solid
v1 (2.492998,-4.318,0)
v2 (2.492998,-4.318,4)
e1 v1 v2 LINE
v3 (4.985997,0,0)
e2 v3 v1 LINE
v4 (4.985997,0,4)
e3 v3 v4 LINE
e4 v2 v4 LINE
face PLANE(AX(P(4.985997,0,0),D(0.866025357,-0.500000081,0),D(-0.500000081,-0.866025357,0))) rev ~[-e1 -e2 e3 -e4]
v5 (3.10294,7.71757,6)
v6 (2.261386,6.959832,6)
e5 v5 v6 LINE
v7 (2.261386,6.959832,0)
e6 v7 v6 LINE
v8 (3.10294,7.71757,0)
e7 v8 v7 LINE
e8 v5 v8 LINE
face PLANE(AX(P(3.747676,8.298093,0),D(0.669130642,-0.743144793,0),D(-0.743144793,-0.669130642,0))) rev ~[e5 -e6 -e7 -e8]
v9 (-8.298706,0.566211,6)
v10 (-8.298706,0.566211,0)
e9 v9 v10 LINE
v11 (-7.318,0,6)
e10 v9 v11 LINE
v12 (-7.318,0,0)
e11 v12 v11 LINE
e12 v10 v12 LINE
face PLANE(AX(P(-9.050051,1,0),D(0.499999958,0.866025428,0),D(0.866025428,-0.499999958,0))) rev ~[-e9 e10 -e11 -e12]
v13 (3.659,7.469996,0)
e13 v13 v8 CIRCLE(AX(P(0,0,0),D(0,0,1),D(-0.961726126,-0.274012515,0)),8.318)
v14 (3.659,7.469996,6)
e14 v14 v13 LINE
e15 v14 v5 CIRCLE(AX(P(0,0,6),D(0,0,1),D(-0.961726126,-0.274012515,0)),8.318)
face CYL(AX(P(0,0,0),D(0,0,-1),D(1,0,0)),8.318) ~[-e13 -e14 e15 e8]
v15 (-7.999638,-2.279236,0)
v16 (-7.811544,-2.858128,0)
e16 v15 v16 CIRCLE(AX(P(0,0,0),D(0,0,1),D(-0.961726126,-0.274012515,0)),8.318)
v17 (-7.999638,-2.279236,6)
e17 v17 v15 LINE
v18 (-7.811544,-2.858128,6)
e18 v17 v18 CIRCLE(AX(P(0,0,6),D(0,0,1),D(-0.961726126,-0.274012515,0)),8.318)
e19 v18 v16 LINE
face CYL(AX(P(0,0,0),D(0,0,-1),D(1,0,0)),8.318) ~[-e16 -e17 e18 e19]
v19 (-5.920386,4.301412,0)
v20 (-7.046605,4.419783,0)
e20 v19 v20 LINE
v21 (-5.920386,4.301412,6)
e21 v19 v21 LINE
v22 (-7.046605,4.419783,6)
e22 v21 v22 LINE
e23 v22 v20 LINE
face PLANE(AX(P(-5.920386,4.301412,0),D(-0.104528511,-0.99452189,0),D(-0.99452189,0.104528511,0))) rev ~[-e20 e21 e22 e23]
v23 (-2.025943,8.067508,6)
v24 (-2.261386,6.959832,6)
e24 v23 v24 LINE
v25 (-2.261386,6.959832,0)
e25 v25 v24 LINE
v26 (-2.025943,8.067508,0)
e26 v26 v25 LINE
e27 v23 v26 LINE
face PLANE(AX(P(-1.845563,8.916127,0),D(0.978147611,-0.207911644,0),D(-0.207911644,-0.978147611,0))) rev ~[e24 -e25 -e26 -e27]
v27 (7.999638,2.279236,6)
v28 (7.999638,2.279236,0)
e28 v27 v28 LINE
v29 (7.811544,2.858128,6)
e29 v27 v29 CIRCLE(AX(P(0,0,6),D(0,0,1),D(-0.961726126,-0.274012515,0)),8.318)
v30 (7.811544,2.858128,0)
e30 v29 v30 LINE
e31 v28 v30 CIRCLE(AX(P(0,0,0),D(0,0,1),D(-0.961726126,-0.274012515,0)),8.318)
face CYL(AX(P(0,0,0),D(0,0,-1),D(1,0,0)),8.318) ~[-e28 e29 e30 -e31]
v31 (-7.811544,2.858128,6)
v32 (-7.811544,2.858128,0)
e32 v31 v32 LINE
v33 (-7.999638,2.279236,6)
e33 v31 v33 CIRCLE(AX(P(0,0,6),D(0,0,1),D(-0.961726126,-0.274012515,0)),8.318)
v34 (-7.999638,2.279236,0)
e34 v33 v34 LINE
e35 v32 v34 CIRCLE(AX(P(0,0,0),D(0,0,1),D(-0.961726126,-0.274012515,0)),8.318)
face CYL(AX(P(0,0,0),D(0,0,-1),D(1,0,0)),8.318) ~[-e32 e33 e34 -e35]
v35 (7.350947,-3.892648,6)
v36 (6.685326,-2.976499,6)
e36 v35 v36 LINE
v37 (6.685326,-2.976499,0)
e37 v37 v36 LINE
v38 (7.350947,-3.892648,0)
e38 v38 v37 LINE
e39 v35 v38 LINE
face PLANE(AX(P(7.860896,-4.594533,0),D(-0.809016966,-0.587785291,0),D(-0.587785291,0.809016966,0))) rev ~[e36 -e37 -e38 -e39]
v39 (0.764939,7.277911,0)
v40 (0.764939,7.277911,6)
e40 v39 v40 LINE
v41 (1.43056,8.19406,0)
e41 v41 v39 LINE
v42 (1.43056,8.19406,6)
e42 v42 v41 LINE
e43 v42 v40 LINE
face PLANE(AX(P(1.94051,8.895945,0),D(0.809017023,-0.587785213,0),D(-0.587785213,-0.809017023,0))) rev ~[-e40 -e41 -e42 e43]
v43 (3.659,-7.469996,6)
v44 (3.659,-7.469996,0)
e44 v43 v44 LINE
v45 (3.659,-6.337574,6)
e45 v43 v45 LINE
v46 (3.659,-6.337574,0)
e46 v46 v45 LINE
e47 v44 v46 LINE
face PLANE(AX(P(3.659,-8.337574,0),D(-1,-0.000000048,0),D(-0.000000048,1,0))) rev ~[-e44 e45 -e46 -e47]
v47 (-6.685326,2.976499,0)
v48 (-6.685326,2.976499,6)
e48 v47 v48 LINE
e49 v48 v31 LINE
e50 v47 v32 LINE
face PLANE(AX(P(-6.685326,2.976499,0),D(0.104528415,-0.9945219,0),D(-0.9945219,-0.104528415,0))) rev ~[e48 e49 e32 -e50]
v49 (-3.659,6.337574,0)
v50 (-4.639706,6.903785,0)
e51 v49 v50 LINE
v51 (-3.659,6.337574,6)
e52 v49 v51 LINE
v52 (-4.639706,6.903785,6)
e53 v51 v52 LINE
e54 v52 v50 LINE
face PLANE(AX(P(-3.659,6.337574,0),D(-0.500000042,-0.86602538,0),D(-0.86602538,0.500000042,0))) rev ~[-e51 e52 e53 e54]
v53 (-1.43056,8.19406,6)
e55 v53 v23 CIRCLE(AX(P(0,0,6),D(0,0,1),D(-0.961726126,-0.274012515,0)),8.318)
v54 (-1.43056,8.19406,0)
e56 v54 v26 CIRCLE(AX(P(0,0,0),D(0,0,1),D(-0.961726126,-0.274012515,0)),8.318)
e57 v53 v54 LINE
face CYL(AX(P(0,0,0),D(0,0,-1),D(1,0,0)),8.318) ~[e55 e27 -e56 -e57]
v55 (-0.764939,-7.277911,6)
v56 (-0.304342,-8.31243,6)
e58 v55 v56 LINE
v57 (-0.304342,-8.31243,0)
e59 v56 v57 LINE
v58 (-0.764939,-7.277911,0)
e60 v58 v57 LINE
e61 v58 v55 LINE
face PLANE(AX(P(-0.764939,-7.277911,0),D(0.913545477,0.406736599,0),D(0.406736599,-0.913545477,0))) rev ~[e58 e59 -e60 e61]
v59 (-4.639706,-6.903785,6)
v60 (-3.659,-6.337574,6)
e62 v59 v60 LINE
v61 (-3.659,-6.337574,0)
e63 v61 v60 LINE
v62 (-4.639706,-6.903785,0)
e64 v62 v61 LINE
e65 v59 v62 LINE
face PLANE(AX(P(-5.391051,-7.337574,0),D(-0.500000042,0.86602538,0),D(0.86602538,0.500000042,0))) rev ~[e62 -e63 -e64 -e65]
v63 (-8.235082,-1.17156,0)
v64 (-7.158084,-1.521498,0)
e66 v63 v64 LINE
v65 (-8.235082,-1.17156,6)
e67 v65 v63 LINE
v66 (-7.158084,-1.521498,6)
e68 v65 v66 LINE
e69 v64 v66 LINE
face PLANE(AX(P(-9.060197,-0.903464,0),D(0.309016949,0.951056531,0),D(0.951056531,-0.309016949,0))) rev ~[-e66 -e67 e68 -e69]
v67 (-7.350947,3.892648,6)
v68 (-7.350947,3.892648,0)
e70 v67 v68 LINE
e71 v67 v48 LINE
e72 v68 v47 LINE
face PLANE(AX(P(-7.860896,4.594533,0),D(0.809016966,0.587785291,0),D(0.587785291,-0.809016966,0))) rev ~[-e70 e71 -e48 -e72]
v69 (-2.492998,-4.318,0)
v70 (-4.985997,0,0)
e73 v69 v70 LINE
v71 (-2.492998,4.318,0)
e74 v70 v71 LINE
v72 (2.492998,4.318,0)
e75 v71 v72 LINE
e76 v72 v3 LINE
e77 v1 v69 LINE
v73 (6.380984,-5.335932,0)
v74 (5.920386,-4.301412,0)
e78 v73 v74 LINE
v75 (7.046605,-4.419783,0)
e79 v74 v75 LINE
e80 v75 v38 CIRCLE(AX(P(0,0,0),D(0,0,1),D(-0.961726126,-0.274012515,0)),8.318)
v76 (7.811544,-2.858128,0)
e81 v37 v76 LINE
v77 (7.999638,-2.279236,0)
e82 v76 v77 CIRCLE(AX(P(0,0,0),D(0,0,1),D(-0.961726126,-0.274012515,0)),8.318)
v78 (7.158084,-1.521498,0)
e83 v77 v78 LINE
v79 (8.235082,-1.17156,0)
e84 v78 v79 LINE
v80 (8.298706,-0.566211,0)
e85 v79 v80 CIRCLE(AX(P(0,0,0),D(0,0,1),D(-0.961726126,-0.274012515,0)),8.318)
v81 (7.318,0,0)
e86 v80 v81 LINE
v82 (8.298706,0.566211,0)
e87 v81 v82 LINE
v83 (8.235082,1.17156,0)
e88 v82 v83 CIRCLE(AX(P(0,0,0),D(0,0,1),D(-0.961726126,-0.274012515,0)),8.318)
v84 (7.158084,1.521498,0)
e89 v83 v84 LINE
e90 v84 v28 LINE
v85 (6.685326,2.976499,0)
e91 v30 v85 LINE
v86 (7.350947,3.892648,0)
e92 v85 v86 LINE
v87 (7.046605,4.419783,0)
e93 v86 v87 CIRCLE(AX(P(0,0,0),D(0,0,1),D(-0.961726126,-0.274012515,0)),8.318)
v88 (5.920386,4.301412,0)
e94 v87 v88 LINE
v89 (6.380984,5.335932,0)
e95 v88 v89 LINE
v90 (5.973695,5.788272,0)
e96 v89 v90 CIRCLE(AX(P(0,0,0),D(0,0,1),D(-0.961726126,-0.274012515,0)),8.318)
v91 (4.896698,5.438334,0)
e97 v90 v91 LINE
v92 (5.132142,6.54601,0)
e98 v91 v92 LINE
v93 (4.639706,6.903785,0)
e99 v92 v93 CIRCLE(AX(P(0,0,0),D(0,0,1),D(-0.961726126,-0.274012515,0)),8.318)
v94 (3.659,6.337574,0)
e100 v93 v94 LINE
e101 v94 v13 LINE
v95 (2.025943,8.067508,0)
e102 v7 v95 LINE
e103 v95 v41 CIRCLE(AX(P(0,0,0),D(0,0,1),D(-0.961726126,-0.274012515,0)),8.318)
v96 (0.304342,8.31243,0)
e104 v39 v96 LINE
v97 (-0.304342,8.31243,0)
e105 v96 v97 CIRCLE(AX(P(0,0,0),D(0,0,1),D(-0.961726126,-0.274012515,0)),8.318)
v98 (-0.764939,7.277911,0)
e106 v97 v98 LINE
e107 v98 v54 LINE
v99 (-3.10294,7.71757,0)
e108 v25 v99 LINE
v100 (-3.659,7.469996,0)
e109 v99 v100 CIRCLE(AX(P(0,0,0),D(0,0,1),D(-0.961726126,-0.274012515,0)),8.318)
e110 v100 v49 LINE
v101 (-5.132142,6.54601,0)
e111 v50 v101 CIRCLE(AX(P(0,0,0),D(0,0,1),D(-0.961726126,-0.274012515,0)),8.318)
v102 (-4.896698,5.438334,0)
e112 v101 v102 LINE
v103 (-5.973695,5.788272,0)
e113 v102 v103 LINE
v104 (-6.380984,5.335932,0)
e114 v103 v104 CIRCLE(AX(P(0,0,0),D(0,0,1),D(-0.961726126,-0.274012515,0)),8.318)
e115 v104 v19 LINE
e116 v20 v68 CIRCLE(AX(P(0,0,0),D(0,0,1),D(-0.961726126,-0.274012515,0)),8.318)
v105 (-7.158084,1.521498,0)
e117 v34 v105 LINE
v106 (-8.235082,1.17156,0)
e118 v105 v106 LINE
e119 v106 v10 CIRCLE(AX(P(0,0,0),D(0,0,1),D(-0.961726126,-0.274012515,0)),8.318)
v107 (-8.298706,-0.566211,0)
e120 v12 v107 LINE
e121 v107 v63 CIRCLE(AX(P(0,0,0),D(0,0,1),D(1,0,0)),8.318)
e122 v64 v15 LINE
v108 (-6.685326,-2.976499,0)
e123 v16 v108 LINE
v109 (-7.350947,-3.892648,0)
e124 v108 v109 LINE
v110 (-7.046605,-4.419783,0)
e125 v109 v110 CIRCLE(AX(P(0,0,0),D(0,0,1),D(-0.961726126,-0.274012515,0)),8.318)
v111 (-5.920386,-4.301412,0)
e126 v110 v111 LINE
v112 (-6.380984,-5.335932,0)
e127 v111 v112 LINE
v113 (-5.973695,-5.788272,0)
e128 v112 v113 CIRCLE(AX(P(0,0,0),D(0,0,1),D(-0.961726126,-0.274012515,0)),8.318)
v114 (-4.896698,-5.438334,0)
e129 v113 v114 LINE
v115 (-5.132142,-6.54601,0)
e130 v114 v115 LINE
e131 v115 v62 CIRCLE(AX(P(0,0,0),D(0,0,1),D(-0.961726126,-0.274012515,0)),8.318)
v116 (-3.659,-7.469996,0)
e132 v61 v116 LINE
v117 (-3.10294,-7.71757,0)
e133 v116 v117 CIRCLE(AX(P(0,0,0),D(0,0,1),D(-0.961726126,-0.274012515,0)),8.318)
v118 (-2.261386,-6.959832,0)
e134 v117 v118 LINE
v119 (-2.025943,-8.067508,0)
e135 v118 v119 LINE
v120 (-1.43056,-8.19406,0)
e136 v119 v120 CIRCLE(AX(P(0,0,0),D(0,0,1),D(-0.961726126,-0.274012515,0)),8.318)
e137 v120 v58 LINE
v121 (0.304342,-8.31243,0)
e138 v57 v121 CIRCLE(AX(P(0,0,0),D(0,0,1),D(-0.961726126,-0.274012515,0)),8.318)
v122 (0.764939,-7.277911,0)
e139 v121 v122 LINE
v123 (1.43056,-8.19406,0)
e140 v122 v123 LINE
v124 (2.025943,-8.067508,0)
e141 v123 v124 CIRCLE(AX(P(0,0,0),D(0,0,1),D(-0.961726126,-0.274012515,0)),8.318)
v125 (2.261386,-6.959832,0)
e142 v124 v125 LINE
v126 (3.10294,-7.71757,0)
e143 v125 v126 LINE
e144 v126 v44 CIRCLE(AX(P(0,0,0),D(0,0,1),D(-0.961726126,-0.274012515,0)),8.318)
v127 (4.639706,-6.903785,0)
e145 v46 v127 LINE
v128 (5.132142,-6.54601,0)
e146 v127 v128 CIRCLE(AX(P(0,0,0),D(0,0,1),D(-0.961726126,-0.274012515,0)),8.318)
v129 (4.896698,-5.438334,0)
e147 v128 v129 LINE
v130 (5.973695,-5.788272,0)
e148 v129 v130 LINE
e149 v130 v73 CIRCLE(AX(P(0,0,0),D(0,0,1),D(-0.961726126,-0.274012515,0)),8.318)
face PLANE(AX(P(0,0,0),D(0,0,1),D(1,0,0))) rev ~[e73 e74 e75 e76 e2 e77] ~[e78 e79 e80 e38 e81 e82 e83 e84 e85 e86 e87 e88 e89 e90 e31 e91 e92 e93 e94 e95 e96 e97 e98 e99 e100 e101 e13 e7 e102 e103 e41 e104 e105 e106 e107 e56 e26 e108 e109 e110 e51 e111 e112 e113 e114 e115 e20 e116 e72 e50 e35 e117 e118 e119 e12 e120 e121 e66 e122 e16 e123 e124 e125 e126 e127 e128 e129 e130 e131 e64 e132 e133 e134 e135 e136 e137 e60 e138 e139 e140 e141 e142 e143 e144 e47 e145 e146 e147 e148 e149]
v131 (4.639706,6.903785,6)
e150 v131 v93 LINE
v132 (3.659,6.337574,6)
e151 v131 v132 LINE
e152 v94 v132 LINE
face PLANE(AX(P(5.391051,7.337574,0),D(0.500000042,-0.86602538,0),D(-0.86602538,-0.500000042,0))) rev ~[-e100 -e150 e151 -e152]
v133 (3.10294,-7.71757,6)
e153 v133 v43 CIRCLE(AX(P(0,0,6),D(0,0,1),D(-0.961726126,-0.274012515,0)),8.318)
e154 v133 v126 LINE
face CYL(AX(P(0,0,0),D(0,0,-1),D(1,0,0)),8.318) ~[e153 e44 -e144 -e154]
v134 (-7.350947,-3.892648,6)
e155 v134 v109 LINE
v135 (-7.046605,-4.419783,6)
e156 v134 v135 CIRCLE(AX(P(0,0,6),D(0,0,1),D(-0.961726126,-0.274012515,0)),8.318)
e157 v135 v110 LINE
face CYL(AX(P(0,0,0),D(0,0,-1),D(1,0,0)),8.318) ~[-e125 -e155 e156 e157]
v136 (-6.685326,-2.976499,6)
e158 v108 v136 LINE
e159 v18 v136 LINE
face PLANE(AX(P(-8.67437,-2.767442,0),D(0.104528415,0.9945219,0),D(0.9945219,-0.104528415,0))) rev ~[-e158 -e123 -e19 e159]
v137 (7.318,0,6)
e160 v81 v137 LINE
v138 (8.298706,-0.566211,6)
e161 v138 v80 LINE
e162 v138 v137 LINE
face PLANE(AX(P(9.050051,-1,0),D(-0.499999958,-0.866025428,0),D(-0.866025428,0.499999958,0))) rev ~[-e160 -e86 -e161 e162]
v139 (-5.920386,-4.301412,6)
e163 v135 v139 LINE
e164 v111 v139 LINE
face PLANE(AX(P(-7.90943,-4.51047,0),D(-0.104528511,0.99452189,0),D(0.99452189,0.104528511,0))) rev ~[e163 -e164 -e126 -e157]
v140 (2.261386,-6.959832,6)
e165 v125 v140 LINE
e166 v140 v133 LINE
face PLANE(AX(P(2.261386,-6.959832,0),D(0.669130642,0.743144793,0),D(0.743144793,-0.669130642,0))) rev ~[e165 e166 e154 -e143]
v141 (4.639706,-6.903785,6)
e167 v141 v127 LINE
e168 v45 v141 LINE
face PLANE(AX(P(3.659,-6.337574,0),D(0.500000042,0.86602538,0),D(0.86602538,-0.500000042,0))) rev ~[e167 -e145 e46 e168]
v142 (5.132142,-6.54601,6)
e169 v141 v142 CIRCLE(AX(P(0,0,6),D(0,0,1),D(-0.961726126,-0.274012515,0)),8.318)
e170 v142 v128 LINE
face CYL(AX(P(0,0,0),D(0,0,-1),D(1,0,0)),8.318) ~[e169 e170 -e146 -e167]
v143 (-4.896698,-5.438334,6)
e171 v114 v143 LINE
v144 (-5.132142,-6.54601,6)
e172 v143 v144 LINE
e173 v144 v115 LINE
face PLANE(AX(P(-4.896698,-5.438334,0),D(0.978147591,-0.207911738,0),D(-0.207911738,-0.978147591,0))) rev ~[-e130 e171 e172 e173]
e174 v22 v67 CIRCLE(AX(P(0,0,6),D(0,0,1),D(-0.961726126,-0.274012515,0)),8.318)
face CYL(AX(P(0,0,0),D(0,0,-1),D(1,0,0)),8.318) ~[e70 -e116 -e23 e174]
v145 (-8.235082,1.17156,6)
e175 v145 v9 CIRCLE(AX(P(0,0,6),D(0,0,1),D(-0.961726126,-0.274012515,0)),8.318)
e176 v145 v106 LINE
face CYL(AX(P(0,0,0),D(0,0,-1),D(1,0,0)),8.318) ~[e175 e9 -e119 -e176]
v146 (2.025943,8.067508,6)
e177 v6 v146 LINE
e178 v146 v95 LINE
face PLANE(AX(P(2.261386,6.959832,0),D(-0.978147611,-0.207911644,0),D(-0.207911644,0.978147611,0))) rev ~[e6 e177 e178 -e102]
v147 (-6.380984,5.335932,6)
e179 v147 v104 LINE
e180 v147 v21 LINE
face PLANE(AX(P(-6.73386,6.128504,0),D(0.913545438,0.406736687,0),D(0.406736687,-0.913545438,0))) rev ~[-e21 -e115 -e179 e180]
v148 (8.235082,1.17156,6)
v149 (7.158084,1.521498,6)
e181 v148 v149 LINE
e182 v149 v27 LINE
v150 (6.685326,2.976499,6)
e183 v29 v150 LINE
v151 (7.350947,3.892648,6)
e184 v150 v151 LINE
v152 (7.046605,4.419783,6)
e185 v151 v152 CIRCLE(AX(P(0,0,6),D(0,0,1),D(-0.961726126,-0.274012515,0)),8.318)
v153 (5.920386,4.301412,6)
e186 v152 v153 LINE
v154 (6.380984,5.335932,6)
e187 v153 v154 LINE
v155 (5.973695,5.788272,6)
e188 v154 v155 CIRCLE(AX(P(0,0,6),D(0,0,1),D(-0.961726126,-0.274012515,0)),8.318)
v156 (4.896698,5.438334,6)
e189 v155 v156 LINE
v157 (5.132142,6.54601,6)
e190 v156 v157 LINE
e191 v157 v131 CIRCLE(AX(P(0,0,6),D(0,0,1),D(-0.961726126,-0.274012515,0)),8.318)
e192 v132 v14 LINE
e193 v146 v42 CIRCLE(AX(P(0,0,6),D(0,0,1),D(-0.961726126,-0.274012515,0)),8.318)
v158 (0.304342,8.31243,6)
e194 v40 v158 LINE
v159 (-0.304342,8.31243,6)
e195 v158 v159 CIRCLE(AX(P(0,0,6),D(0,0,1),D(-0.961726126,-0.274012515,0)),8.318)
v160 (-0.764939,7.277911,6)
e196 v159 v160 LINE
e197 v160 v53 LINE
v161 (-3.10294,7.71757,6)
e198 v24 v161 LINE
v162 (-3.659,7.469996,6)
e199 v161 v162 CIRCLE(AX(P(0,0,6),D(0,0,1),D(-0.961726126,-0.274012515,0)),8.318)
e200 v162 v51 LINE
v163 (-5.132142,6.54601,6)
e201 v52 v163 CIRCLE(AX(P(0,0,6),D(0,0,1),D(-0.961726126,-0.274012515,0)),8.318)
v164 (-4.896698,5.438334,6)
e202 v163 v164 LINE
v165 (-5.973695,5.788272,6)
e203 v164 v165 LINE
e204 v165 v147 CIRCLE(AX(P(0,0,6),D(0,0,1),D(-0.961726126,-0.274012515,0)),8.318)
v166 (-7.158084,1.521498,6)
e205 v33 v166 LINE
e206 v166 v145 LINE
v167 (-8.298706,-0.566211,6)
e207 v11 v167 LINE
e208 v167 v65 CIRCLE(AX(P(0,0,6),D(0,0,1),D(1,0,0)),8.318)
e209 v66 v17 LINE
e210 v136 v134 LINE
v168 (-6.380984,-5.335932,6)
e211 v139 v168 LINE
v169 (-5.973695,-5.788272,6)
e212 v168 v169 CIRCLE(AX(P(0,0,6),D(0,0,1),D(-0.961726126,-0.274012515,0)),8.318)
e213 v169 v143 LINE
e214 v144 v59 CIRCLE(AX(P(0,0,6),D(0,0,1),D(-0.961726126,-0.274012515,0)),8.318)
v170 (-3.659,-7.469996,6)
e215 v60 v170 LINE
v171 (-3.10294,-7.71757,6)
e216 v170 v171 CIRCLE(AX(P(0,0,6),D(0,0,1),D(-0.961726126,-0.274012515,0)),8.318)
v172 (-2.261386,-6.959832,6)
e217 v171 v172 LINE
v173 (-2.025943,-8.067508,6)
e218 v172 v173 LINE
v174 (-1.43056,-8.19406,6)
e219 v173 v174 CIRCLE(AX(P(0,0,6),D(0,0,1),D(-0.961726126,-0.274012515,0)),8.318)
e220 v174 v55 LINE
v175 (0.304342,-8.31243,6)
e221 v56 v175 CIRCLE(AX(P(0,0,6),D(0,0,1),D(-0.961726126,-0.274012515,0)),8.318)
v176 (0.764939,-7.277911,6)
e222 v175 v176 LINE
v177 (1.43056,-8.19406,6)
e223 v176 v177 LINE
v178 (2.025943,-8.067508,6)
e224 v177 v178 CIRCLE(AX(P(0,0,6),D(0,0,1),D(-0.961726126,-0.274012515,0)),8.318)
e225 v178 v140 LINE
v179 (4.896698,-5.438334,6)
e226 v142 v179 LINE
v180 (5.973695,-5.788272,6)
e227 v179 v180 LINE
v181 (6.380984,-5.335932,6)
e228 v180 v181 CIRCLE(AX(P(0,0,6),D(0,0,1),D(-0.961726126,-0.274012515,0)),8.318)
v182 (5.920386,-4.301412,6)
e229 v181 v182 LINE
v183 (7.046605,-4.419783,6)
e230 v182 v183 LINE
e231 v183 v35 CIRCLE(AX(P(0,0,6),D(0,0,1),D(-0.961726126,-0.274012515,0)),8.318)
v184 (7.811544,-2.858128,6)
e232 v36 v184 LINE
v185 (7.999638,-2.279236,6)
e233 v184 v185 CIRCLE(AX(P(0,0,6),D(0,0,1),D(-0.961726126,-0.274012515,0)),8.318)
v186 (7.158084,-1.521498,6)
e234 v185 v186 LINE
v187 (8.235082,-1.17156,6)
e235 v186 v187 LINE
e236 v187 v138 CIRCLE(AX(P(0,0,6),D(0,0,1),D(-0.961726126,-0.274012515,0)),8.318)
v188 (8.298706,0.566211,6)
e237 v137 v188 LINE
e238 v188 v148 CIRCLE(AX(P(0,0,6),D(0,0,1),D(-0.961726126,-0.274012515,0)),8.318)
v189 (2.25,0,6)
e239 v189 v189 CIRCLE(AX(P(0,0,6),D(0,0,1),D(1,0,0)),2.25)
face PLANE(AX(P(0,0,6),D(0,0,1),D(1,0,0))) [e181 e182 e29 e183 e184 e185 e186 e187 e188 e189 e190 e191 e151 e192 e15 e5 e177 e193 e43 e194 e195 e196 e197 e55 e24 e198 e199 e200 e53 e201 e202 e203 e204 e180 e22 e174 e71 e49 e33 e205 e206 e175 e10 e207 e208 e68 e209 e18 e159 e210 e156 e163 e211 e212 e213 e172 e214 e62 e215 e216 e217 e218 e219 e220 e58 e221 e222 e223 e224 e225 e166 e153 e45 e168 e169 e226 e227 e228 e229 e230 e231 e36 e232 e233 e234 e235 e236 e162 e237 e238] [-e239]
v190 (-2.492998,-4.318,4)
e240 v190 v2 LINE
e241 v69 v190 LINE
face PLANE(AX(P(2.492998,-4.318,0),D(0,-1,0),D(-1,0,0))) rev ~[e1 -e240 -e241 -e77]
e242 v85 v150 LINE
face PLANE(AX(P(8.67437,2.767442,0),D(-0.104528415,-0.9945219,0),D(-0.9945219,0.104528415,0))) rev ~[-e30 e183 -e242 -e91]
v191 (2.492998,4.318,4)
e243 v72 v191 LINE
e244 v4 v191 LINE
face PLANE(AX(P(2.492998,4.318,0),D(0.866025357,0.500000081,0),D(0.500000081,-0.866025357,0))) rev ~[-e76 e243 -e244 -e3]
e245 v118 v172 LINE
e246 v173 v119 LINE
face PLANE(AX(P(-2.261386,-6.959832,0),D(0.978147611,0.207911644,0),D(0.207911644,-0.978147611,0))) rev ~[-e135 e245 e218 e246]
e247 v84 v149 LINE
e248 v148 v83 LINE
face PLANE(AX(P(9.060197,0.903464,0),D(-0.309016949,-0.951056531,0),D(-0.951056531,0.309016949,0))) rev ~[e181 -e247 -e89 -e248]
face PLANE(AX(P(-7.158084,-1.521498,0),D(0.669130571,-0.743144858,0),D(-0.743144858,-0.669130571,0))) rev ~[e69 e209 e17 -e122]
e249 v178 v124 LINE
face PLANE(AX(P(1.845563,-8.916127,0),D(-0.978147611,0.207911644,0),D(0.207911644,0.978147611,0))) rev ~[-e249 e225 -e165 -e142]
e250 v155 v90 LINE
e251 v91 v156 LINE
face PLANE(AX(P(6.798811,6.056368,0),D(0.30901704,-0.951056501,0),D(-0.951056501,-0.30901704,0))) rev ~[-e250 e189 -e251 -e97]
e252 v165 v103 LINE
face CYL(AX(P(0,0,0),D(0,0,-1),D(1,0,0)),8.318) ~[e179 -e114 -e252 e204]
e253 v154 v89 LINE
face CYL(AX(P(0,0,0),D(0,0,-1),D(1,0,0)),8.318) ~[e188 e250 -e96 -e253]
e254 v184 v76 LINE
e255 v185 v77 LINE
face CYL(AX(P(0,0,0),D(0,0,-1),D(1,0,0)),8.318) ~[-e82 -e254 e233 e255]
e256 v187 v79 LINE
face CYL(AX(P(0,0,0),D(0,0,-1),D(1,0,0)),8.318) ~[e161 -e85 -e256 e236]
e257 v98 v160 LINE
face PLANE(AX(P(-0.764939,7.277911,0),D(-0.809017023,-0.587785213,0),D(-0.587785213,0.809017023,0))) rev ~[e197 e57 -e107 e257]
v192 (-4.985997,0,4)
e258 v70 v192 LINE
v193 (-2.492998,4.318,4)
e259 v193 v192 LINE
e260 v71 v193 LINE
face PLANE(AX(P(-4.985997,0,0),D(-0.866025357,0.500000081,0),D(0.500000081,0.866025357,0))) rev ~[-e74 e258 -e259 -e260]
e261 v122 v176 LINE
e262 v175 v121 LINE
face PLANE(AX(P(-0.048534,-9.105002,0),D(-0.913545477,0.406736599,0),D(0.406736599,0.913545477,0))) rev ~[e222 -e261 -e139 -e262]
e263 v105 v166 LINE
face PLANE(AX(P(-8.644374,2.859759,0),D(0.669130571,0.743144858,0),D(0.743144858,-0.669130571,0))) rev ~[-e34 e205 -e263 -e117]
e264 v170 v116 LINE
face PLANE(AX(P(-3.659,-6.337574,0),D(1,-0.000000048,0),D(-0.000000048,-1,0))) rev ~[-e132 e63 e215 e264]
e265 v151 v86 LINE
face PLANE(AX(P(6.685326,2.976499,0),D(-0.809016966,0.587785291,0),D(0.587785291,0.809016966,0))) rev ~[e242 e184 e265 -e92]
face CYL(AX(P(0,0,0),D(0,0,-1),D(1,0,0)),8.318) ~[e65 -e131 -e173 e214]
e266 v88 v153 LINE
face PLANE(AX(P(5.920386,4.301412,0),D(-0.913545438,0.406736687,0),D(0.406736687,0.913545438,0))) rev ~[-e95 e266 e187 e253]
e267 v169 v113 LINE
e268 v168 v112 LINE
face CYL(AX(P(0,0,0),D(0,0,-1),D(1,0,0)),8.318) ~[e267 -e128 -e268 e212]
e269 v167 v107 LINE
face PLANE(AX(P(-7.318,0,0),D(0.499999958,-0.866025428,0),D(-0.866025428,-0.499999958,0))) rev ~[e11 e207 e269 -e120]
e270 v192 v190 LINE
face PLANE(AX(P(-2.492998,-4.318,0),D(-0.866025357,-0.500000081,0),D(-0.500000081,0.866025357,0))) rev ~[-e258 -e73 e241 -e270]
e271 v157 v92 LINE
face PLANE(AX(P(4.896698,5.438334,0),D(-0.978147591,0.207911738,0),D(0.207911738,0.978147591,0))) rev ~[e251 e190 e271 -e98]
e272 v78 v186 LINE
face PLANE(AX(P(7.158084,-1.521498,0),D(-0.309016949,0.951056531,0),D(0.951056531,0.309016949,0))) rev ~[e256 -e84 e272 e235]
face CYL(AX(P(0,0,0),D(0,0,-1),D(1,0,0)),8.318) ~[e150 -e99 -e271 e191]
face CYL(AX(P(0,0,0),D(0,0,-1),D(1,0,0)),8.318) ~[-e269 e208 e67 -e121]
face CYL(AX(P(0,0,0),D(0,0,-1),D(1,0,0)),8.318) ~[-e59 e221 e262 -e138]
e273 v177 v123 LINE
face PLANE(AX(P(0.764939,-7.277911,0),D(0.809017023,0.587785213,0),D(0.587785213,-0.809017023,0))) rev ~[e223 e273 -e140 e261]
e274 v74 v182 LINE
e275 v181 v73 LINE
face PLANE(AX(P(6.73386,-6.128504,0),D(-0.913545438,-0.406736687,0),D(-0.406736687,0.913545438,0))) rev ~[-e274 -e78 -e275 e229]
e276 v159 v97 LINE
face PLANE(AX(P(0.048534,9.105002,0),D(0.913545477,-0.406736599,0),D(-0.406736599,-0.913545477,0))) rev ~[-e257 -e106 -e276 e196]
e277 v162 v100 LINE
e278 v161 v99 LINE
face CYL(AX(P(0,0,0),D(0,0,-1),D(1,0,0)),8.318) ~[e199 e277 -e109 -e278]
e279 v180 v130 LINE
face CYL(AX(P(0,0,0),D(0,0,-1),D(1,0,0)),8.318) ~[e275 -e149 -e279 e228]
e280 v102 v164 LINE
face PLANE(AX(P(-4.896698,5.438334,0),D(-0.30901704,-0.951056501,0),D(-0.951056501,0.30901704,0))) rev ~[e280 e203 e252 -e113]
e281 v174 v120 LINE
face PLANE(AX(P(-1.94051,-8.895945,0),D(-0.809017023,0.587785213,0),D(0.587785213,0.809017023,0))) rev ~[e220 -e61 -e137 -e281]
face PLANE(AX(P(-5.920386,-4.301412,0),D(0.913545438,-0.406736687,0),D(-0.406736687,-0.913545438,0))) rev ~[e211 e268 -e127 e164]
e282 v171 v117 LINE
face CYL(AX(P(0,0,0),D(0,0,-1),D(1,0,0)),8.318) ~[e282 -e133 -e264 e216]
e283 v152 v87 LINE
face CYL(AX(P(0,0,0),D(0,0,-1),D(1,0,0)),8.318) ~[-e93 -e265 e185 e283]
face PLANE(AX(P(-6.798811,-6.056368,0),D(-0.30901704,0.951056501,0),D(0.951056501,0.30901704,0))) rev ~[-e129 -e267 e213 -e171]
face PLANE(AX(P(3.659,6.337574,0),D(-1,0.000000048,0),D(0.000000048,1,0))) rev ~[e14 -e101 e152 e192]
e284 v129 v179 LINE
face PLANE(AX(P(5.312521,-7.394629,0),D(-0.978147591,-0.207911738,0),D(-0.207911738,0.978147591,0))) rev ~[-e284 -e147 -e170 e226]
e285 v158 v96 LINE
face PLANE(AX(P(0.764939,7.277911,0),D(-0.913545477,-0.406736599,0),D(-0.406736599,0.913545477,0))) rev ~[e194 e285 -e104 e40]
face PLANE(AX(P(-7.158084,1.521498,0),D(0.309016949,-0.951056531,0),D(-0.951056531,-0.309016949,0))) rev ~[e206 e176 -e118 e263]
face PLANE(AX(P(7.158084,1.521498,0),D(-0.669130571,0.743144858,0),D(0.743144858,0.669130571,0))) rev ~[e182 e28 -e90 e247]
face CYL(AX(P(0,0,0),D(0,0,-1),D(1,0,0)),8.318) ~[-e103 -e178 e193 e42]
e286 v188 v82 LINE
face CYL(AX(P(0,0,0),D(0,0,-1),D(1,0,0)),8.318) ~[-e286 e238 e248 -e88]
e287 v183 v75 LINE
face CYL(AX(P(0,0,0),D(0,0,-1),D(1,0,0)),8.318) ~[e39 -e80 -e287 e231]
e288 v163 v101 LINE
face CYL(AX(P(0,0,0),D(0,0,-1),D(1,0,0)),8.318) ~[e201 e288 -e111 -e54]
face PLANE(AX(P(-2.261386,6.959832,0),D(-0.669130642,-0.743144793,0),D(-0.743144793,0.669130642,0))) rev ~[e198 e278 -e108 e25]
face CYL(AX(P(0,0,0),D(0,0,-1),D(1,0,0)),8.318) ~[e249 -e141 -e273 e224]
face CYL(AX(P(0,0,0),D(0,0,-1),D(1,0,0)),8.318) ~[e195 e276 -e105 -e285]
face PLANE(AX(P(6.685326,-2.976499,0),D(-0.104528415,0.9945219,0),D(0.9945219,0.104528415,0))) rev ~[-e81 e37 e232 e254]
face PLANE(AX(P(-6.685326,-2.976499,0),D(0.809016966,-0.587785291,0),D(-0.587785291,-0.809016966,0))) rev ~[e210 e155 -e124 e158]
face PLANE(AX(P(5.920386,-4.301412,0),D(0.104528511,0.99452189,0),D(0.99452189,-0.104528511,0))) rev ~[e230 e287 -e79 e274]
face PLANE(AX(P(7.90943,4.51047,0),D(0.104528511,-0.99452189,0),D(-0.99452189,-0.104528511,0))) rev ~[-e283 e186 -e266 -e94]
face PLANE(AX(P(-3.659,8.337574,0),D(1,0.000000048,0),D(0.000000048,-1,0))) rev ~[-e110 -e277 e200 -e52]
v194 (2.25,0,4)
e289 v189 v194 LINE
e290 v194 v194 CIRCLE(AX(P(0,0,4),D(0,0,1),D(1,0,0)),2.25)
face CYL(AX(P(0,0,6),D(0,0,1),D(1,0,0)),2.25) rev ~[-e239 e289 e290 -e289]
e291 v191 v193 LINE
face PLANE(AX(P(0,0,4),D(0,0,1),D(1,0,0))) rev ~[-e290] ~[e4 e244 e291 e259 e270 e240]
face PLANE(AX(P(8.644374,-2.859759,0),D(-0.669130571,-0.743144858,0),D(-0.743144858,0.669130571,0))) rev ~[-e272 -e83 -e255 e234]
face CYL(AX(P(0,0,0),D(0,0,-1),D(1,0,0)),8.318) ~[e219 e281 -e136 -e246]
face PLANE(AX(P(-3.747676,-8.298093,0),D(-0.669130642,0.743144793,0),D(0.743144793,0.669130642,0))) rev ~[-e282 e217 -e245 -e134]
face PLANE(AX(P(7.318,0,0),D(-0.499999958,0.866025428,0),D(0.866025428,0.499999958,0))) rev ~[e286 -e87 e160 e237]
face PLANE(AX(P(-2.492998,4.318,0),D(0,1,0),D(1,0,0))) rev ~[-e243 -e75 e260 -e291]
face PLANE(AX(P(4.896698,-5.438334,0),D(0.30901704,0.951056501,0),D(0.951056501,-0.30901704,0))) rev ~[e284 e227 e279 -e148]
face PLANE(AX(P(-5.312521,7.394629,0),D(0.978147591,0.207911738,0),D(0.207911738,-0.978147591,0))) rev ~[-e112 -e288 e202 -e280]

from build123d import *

# Parameters (mm, degrees)
F0_R     = 8.318
F1_DEPTH = 6
F2_R     = 2.25
F3_DEPTH = 2
F5_DEPTH = 6
F6_COUNT = 30


with BuildPart() as f1:
    # F0 (on Top) → F1 (new body)
    with BuildSketch(Plane.XY):
        Circle(F0_R)
        Polygon((2.492998, 4.318), (4.985997, 0), (2.492998, -4.318), (-2.492998, -4.318), (-4.985997, 0), (-2.492998, 4.318), align=None, mode=Mode.SUBTRACT)
    extrude(amount=F1_DEPTH)

    # F2 (on face) → F3 (join)
    with BuildSketch(Plane.XY.offset(6)):
        Polygon((-4.985997, 0), (-2.492998, -4.318), (2.492998, -4.318), (4.985997, 0), (2.492998, 4.318), (-2.492998, 4.318), align=None)
        Circle(F2_R, mode=Mode.SUBTRACT)
    extrude(amount=-F3_DEPTH)


with BuildPart() as f5:
    # F4 (on face) → F5 (new body)
    with BuildSketch(Plane(origin=(0, 0, 0), x_dir=(1, 0, 0), z_dir=(0, 0, -1))):
        Polygon((-9.050051, 1), (-9.050051, -1), (-7.318, 0), align=None)
    extrude(amount=-F5_DEPTH)


with BuildPart() as f6_1:
    # F6: instance of F5
    add(f5.part.rotate(Axis((0, 0, 6), (0, 0, 1)), 1 * 360 / F6_COUNT))


with BuildPart() as f6_2:
    # F6: instance of F5
    add(f5.part.rotate(Axis((0, 0, 6), (0, 0, 1)), 2 * 360 / F6_COUNT))


with BuildPart() as f6_3:
    # F6: instance of F5
    add(f5.part.rotate(Axis((0, 0, 6), (0, 0, 1)), 3 * 360 / F6_COUNT))


with BuildPart() as f6_4:
    # F6: instance of F5
    add(f5.part.rotate(Axis((0, 0, 6), (0, 0, 1)), 4 * 360 / F6_COUNT))


with BuildPart() as f6_5:
    # F6: instance of F5
    add(f5.part.rotate(Axis((0, 0, 6), (0, 0, 1)), 5 * 360 / F6_COUNT))


with BuildPart() as f6_6:
    # F6: instance of F5
    add(f5.part.rotate(Axis((0, 0, 6), (0, 0, 1)), 6 * 360 / F6_COUNT))


with BuildPart() as f6_7:
    # F6: instance of F5
    add(f5.part.rotate(Axis((0, 0, 6), (0, 0, 1)), 7 * 360 / F6_COUNT))


with BuildPart() as f6_8:
    # F6: instance of F5
    add(f5.part.rotate(Axis((0, 0, 6), (0, 0, 1)), 8 * 360 / F6_COUNT))


with BuildPart() as f6_9:
    # F6: instance of F5
    add(f5.part.rotate(Axis((0, 0, 6), (0, 0, 1)), 9 * 360 / F6_COUNT))


with BuildPart() as f6_10:
    # F6: instance of F5
    add(f5.part.rotate(Axis((0, 0, 6), (0, 0, 1)), 10 * 360 / F6_COUNT))


with BuildPart() as f6_11:
    # F6: instance of F5
    add(f5.part.rotate(Axis((0, 0, 6), (0, 0, 1)), 11 * 360 / F6_COUNT))


with BuildPart() as f6_12:
    # F6: instance of F5
    add(f5.part.rotate(Axis((0, 0, 6), (0, 0, 1)), 12 * 360 / F6_COUNT))


with BuildPart() as f6_13:
    # F6: instance of F5
    add(f5.part.rotate(Axis((0, 0, 6), (0, 0, 1)), 13 * 360 / F6_COUNT))


with BuildPart() as f6_14:
    # F6: instance of F5
    add(f5.part.rotate(Axis((0, 0, 6), (0, 0, 1)), 14 * 360 / F6_COUNT))


with BuildPart() as f6_15:
    # F6: instance of F5
    add(f5.part.rotate(Axis((0, 0, 6), (0, 0, 1)), 15 * 360 / F6_COUNT))


with BuildPart() as f6_16:
    # F6: instance of F5
    add(f5.part.rotate(Axis((0, 0, 6), (0, 0, 1)), 16 * 360 / F6_COUNT))


with BuildPart() as f6_17:
    # F6: instance of F5
    add(f5.part.rotate(Axis((0, 0, 6), (0, 0, 1)), 17 * 360 / F6_COUNT))


with BuildPart() as f6_18:
    # F6: instance of F5
    add(f5.part.rotate(Axis((0, 0, 6), (0, 0, 1)), 18 * 360 / F6_COUNT))


with BuildPart() as f6_19:
    # F6: instance of F5
    add(f5.part.rotate(Axis((0, 0, 6), (0, 0, 1)), 19 * 360 / F6_COUNT))


with BuildPart() as f6_20:
    # F6: instance of F5
    add(f5.part.rotate(Axis((0, 0, 6), (0, 0, 1)), 20 * 360 / F6_COUNT))


with BuildPart() as f6_21:
    # F6: instance of F5
    add(f5.part.rotate(Axis((0, 0, 6), (0, 0, 1)), 21 * 360 / F6_COUNT))


with BuildPart() as f6_22:
    # F6: instance of F5
    add(f5.part.rotate(Axis((0, 0, 6), (0, 0, 1)), 22 * 360 / F6_COUNT))


with BuildPart() as f6_23:
    # F6: instance of F5
    add(f5.part.rotate(Axis((0, 0, 6), (0, 0, 1)), 23 * 360 / F6_COUNT))


with BuildPart() as f6_24:
    # F6: instance of F5
    add(f5.part.rotate(Axis((0, 0, 6), (0, 0, 1)), 24 * 360 / F6_COUNT))


with BuildPart() as f6_25:
    # F6: instance of F5
    add(f5.part.rotate(Axis((0, 0, 6), (0, 0, 1)), 25 * 360 / F6_COUNT))


with BuildPart() as f6_26:
    # F6: instance of F5
    add(f5.part.rotate(Axis((0, 0, 6), (0, 0, 1)), 26 * 360 / F6_COUNT))


with BuildPart() as f6_27:
    # F6: instance of F5
    add(f5.part.rotate(Axis((0, 0, 6), (0, 0, 1)), 27 * 360 / F6_COUNT))


with BuildPart() as f6_28:
    # F6: instance of F5
    add(f5.part.rotate(Axis((0, 0, 6), (0, 0, 1)), 28 * 360 / F6_COUNT))


with BuildPart() as f6_29:
    # F6: instance of F5
    add(f5.part.rotate(Axis((0, 0, 6), (0, 0, 1)), 29 * 360 / F6_COUNT))


with BuildPart() as f1_1:
    add(f1.part)

    # F7: cut F5, F6_1, F6_2, F6_3, F6_4, F6_5, F6_6, F6_7, F6_8, F6_9, F6_10, F6_11, F6_12, F6_13, F6_14, F6_15, F6_16, F6_17, F6_18, F6_19, F6_20, F6_21, F6_22, F6_23, F6_24, F6_25, F6_26, F6_27, F6_28, F6_29
    add(f5.part, mode=Mode.SUBTRACT)
    add(f6_1.part, mode=Mode.SUBTRACT)
    add(f6_2.part, mode=Mode.SUBTRACT)
    add(f6_3.part, mode=Mode.SUBTRACT)
    add(f6_4.part, mode=Mode.SUBTRACT)
    add(f6_5.part, mode=Mode.SUBTRACT)
    add(f6_6.part, mode=Mode.SUBTRACT)
    add(f6_7.part, mode=Mode.SUBTRACT)
    add(f6_8.part, mode=Mode.SUBTRACT)
    add(f6_9.part, mode=Mode.SUBTRACT)
    add(f6_10.part, mode=Mode.SUBTRACT)
    add(f6_11.part, mode=Mode.SUBTRACT)
    add(f6_12.part, mode=Mode.SUBTRACT)
    add(f6_13.part, mode=Mode.SUBTRACT)
    add(f6_14.part, mode=Mode.SUBTRACT)
    add(f6_15.part, mode=Mode.SUBTRACT)
    add(f6_16.part, mode=Mode.SUBTRACT)
    add(f6_17.part, mode=Mode.SUBTRACT)
    add(f6_18.part, mode=Mode.SUBTRACT)
    add(f6_19.part, mode=Mode.SUBTRACT)
    add(f6_20.part, mode=Mode.SUBTRACT)
    add(f6_21.part, mode=Mode.SUBTRACT)
    add(f6_22.part, mode=Mode.SUBTRACT)
    add(f6_23.part, mode=Mode.SUBTRACT)
    add(f6_24.part, mode=Mode.SUBTRACT)
    add(f6_25.part, mode=Mode.SUBTRACT)
    add(f6_26.part, mode=Mode.SUBTRACT)
    add(f6_27.part, mode=Mode.SUBTRACT)
    add(f6_28.part, mode=Mode.SUBTRACT)
    add(f6_29.part, mode=Mode.SUBTRACT)


solid = f1_1.part
